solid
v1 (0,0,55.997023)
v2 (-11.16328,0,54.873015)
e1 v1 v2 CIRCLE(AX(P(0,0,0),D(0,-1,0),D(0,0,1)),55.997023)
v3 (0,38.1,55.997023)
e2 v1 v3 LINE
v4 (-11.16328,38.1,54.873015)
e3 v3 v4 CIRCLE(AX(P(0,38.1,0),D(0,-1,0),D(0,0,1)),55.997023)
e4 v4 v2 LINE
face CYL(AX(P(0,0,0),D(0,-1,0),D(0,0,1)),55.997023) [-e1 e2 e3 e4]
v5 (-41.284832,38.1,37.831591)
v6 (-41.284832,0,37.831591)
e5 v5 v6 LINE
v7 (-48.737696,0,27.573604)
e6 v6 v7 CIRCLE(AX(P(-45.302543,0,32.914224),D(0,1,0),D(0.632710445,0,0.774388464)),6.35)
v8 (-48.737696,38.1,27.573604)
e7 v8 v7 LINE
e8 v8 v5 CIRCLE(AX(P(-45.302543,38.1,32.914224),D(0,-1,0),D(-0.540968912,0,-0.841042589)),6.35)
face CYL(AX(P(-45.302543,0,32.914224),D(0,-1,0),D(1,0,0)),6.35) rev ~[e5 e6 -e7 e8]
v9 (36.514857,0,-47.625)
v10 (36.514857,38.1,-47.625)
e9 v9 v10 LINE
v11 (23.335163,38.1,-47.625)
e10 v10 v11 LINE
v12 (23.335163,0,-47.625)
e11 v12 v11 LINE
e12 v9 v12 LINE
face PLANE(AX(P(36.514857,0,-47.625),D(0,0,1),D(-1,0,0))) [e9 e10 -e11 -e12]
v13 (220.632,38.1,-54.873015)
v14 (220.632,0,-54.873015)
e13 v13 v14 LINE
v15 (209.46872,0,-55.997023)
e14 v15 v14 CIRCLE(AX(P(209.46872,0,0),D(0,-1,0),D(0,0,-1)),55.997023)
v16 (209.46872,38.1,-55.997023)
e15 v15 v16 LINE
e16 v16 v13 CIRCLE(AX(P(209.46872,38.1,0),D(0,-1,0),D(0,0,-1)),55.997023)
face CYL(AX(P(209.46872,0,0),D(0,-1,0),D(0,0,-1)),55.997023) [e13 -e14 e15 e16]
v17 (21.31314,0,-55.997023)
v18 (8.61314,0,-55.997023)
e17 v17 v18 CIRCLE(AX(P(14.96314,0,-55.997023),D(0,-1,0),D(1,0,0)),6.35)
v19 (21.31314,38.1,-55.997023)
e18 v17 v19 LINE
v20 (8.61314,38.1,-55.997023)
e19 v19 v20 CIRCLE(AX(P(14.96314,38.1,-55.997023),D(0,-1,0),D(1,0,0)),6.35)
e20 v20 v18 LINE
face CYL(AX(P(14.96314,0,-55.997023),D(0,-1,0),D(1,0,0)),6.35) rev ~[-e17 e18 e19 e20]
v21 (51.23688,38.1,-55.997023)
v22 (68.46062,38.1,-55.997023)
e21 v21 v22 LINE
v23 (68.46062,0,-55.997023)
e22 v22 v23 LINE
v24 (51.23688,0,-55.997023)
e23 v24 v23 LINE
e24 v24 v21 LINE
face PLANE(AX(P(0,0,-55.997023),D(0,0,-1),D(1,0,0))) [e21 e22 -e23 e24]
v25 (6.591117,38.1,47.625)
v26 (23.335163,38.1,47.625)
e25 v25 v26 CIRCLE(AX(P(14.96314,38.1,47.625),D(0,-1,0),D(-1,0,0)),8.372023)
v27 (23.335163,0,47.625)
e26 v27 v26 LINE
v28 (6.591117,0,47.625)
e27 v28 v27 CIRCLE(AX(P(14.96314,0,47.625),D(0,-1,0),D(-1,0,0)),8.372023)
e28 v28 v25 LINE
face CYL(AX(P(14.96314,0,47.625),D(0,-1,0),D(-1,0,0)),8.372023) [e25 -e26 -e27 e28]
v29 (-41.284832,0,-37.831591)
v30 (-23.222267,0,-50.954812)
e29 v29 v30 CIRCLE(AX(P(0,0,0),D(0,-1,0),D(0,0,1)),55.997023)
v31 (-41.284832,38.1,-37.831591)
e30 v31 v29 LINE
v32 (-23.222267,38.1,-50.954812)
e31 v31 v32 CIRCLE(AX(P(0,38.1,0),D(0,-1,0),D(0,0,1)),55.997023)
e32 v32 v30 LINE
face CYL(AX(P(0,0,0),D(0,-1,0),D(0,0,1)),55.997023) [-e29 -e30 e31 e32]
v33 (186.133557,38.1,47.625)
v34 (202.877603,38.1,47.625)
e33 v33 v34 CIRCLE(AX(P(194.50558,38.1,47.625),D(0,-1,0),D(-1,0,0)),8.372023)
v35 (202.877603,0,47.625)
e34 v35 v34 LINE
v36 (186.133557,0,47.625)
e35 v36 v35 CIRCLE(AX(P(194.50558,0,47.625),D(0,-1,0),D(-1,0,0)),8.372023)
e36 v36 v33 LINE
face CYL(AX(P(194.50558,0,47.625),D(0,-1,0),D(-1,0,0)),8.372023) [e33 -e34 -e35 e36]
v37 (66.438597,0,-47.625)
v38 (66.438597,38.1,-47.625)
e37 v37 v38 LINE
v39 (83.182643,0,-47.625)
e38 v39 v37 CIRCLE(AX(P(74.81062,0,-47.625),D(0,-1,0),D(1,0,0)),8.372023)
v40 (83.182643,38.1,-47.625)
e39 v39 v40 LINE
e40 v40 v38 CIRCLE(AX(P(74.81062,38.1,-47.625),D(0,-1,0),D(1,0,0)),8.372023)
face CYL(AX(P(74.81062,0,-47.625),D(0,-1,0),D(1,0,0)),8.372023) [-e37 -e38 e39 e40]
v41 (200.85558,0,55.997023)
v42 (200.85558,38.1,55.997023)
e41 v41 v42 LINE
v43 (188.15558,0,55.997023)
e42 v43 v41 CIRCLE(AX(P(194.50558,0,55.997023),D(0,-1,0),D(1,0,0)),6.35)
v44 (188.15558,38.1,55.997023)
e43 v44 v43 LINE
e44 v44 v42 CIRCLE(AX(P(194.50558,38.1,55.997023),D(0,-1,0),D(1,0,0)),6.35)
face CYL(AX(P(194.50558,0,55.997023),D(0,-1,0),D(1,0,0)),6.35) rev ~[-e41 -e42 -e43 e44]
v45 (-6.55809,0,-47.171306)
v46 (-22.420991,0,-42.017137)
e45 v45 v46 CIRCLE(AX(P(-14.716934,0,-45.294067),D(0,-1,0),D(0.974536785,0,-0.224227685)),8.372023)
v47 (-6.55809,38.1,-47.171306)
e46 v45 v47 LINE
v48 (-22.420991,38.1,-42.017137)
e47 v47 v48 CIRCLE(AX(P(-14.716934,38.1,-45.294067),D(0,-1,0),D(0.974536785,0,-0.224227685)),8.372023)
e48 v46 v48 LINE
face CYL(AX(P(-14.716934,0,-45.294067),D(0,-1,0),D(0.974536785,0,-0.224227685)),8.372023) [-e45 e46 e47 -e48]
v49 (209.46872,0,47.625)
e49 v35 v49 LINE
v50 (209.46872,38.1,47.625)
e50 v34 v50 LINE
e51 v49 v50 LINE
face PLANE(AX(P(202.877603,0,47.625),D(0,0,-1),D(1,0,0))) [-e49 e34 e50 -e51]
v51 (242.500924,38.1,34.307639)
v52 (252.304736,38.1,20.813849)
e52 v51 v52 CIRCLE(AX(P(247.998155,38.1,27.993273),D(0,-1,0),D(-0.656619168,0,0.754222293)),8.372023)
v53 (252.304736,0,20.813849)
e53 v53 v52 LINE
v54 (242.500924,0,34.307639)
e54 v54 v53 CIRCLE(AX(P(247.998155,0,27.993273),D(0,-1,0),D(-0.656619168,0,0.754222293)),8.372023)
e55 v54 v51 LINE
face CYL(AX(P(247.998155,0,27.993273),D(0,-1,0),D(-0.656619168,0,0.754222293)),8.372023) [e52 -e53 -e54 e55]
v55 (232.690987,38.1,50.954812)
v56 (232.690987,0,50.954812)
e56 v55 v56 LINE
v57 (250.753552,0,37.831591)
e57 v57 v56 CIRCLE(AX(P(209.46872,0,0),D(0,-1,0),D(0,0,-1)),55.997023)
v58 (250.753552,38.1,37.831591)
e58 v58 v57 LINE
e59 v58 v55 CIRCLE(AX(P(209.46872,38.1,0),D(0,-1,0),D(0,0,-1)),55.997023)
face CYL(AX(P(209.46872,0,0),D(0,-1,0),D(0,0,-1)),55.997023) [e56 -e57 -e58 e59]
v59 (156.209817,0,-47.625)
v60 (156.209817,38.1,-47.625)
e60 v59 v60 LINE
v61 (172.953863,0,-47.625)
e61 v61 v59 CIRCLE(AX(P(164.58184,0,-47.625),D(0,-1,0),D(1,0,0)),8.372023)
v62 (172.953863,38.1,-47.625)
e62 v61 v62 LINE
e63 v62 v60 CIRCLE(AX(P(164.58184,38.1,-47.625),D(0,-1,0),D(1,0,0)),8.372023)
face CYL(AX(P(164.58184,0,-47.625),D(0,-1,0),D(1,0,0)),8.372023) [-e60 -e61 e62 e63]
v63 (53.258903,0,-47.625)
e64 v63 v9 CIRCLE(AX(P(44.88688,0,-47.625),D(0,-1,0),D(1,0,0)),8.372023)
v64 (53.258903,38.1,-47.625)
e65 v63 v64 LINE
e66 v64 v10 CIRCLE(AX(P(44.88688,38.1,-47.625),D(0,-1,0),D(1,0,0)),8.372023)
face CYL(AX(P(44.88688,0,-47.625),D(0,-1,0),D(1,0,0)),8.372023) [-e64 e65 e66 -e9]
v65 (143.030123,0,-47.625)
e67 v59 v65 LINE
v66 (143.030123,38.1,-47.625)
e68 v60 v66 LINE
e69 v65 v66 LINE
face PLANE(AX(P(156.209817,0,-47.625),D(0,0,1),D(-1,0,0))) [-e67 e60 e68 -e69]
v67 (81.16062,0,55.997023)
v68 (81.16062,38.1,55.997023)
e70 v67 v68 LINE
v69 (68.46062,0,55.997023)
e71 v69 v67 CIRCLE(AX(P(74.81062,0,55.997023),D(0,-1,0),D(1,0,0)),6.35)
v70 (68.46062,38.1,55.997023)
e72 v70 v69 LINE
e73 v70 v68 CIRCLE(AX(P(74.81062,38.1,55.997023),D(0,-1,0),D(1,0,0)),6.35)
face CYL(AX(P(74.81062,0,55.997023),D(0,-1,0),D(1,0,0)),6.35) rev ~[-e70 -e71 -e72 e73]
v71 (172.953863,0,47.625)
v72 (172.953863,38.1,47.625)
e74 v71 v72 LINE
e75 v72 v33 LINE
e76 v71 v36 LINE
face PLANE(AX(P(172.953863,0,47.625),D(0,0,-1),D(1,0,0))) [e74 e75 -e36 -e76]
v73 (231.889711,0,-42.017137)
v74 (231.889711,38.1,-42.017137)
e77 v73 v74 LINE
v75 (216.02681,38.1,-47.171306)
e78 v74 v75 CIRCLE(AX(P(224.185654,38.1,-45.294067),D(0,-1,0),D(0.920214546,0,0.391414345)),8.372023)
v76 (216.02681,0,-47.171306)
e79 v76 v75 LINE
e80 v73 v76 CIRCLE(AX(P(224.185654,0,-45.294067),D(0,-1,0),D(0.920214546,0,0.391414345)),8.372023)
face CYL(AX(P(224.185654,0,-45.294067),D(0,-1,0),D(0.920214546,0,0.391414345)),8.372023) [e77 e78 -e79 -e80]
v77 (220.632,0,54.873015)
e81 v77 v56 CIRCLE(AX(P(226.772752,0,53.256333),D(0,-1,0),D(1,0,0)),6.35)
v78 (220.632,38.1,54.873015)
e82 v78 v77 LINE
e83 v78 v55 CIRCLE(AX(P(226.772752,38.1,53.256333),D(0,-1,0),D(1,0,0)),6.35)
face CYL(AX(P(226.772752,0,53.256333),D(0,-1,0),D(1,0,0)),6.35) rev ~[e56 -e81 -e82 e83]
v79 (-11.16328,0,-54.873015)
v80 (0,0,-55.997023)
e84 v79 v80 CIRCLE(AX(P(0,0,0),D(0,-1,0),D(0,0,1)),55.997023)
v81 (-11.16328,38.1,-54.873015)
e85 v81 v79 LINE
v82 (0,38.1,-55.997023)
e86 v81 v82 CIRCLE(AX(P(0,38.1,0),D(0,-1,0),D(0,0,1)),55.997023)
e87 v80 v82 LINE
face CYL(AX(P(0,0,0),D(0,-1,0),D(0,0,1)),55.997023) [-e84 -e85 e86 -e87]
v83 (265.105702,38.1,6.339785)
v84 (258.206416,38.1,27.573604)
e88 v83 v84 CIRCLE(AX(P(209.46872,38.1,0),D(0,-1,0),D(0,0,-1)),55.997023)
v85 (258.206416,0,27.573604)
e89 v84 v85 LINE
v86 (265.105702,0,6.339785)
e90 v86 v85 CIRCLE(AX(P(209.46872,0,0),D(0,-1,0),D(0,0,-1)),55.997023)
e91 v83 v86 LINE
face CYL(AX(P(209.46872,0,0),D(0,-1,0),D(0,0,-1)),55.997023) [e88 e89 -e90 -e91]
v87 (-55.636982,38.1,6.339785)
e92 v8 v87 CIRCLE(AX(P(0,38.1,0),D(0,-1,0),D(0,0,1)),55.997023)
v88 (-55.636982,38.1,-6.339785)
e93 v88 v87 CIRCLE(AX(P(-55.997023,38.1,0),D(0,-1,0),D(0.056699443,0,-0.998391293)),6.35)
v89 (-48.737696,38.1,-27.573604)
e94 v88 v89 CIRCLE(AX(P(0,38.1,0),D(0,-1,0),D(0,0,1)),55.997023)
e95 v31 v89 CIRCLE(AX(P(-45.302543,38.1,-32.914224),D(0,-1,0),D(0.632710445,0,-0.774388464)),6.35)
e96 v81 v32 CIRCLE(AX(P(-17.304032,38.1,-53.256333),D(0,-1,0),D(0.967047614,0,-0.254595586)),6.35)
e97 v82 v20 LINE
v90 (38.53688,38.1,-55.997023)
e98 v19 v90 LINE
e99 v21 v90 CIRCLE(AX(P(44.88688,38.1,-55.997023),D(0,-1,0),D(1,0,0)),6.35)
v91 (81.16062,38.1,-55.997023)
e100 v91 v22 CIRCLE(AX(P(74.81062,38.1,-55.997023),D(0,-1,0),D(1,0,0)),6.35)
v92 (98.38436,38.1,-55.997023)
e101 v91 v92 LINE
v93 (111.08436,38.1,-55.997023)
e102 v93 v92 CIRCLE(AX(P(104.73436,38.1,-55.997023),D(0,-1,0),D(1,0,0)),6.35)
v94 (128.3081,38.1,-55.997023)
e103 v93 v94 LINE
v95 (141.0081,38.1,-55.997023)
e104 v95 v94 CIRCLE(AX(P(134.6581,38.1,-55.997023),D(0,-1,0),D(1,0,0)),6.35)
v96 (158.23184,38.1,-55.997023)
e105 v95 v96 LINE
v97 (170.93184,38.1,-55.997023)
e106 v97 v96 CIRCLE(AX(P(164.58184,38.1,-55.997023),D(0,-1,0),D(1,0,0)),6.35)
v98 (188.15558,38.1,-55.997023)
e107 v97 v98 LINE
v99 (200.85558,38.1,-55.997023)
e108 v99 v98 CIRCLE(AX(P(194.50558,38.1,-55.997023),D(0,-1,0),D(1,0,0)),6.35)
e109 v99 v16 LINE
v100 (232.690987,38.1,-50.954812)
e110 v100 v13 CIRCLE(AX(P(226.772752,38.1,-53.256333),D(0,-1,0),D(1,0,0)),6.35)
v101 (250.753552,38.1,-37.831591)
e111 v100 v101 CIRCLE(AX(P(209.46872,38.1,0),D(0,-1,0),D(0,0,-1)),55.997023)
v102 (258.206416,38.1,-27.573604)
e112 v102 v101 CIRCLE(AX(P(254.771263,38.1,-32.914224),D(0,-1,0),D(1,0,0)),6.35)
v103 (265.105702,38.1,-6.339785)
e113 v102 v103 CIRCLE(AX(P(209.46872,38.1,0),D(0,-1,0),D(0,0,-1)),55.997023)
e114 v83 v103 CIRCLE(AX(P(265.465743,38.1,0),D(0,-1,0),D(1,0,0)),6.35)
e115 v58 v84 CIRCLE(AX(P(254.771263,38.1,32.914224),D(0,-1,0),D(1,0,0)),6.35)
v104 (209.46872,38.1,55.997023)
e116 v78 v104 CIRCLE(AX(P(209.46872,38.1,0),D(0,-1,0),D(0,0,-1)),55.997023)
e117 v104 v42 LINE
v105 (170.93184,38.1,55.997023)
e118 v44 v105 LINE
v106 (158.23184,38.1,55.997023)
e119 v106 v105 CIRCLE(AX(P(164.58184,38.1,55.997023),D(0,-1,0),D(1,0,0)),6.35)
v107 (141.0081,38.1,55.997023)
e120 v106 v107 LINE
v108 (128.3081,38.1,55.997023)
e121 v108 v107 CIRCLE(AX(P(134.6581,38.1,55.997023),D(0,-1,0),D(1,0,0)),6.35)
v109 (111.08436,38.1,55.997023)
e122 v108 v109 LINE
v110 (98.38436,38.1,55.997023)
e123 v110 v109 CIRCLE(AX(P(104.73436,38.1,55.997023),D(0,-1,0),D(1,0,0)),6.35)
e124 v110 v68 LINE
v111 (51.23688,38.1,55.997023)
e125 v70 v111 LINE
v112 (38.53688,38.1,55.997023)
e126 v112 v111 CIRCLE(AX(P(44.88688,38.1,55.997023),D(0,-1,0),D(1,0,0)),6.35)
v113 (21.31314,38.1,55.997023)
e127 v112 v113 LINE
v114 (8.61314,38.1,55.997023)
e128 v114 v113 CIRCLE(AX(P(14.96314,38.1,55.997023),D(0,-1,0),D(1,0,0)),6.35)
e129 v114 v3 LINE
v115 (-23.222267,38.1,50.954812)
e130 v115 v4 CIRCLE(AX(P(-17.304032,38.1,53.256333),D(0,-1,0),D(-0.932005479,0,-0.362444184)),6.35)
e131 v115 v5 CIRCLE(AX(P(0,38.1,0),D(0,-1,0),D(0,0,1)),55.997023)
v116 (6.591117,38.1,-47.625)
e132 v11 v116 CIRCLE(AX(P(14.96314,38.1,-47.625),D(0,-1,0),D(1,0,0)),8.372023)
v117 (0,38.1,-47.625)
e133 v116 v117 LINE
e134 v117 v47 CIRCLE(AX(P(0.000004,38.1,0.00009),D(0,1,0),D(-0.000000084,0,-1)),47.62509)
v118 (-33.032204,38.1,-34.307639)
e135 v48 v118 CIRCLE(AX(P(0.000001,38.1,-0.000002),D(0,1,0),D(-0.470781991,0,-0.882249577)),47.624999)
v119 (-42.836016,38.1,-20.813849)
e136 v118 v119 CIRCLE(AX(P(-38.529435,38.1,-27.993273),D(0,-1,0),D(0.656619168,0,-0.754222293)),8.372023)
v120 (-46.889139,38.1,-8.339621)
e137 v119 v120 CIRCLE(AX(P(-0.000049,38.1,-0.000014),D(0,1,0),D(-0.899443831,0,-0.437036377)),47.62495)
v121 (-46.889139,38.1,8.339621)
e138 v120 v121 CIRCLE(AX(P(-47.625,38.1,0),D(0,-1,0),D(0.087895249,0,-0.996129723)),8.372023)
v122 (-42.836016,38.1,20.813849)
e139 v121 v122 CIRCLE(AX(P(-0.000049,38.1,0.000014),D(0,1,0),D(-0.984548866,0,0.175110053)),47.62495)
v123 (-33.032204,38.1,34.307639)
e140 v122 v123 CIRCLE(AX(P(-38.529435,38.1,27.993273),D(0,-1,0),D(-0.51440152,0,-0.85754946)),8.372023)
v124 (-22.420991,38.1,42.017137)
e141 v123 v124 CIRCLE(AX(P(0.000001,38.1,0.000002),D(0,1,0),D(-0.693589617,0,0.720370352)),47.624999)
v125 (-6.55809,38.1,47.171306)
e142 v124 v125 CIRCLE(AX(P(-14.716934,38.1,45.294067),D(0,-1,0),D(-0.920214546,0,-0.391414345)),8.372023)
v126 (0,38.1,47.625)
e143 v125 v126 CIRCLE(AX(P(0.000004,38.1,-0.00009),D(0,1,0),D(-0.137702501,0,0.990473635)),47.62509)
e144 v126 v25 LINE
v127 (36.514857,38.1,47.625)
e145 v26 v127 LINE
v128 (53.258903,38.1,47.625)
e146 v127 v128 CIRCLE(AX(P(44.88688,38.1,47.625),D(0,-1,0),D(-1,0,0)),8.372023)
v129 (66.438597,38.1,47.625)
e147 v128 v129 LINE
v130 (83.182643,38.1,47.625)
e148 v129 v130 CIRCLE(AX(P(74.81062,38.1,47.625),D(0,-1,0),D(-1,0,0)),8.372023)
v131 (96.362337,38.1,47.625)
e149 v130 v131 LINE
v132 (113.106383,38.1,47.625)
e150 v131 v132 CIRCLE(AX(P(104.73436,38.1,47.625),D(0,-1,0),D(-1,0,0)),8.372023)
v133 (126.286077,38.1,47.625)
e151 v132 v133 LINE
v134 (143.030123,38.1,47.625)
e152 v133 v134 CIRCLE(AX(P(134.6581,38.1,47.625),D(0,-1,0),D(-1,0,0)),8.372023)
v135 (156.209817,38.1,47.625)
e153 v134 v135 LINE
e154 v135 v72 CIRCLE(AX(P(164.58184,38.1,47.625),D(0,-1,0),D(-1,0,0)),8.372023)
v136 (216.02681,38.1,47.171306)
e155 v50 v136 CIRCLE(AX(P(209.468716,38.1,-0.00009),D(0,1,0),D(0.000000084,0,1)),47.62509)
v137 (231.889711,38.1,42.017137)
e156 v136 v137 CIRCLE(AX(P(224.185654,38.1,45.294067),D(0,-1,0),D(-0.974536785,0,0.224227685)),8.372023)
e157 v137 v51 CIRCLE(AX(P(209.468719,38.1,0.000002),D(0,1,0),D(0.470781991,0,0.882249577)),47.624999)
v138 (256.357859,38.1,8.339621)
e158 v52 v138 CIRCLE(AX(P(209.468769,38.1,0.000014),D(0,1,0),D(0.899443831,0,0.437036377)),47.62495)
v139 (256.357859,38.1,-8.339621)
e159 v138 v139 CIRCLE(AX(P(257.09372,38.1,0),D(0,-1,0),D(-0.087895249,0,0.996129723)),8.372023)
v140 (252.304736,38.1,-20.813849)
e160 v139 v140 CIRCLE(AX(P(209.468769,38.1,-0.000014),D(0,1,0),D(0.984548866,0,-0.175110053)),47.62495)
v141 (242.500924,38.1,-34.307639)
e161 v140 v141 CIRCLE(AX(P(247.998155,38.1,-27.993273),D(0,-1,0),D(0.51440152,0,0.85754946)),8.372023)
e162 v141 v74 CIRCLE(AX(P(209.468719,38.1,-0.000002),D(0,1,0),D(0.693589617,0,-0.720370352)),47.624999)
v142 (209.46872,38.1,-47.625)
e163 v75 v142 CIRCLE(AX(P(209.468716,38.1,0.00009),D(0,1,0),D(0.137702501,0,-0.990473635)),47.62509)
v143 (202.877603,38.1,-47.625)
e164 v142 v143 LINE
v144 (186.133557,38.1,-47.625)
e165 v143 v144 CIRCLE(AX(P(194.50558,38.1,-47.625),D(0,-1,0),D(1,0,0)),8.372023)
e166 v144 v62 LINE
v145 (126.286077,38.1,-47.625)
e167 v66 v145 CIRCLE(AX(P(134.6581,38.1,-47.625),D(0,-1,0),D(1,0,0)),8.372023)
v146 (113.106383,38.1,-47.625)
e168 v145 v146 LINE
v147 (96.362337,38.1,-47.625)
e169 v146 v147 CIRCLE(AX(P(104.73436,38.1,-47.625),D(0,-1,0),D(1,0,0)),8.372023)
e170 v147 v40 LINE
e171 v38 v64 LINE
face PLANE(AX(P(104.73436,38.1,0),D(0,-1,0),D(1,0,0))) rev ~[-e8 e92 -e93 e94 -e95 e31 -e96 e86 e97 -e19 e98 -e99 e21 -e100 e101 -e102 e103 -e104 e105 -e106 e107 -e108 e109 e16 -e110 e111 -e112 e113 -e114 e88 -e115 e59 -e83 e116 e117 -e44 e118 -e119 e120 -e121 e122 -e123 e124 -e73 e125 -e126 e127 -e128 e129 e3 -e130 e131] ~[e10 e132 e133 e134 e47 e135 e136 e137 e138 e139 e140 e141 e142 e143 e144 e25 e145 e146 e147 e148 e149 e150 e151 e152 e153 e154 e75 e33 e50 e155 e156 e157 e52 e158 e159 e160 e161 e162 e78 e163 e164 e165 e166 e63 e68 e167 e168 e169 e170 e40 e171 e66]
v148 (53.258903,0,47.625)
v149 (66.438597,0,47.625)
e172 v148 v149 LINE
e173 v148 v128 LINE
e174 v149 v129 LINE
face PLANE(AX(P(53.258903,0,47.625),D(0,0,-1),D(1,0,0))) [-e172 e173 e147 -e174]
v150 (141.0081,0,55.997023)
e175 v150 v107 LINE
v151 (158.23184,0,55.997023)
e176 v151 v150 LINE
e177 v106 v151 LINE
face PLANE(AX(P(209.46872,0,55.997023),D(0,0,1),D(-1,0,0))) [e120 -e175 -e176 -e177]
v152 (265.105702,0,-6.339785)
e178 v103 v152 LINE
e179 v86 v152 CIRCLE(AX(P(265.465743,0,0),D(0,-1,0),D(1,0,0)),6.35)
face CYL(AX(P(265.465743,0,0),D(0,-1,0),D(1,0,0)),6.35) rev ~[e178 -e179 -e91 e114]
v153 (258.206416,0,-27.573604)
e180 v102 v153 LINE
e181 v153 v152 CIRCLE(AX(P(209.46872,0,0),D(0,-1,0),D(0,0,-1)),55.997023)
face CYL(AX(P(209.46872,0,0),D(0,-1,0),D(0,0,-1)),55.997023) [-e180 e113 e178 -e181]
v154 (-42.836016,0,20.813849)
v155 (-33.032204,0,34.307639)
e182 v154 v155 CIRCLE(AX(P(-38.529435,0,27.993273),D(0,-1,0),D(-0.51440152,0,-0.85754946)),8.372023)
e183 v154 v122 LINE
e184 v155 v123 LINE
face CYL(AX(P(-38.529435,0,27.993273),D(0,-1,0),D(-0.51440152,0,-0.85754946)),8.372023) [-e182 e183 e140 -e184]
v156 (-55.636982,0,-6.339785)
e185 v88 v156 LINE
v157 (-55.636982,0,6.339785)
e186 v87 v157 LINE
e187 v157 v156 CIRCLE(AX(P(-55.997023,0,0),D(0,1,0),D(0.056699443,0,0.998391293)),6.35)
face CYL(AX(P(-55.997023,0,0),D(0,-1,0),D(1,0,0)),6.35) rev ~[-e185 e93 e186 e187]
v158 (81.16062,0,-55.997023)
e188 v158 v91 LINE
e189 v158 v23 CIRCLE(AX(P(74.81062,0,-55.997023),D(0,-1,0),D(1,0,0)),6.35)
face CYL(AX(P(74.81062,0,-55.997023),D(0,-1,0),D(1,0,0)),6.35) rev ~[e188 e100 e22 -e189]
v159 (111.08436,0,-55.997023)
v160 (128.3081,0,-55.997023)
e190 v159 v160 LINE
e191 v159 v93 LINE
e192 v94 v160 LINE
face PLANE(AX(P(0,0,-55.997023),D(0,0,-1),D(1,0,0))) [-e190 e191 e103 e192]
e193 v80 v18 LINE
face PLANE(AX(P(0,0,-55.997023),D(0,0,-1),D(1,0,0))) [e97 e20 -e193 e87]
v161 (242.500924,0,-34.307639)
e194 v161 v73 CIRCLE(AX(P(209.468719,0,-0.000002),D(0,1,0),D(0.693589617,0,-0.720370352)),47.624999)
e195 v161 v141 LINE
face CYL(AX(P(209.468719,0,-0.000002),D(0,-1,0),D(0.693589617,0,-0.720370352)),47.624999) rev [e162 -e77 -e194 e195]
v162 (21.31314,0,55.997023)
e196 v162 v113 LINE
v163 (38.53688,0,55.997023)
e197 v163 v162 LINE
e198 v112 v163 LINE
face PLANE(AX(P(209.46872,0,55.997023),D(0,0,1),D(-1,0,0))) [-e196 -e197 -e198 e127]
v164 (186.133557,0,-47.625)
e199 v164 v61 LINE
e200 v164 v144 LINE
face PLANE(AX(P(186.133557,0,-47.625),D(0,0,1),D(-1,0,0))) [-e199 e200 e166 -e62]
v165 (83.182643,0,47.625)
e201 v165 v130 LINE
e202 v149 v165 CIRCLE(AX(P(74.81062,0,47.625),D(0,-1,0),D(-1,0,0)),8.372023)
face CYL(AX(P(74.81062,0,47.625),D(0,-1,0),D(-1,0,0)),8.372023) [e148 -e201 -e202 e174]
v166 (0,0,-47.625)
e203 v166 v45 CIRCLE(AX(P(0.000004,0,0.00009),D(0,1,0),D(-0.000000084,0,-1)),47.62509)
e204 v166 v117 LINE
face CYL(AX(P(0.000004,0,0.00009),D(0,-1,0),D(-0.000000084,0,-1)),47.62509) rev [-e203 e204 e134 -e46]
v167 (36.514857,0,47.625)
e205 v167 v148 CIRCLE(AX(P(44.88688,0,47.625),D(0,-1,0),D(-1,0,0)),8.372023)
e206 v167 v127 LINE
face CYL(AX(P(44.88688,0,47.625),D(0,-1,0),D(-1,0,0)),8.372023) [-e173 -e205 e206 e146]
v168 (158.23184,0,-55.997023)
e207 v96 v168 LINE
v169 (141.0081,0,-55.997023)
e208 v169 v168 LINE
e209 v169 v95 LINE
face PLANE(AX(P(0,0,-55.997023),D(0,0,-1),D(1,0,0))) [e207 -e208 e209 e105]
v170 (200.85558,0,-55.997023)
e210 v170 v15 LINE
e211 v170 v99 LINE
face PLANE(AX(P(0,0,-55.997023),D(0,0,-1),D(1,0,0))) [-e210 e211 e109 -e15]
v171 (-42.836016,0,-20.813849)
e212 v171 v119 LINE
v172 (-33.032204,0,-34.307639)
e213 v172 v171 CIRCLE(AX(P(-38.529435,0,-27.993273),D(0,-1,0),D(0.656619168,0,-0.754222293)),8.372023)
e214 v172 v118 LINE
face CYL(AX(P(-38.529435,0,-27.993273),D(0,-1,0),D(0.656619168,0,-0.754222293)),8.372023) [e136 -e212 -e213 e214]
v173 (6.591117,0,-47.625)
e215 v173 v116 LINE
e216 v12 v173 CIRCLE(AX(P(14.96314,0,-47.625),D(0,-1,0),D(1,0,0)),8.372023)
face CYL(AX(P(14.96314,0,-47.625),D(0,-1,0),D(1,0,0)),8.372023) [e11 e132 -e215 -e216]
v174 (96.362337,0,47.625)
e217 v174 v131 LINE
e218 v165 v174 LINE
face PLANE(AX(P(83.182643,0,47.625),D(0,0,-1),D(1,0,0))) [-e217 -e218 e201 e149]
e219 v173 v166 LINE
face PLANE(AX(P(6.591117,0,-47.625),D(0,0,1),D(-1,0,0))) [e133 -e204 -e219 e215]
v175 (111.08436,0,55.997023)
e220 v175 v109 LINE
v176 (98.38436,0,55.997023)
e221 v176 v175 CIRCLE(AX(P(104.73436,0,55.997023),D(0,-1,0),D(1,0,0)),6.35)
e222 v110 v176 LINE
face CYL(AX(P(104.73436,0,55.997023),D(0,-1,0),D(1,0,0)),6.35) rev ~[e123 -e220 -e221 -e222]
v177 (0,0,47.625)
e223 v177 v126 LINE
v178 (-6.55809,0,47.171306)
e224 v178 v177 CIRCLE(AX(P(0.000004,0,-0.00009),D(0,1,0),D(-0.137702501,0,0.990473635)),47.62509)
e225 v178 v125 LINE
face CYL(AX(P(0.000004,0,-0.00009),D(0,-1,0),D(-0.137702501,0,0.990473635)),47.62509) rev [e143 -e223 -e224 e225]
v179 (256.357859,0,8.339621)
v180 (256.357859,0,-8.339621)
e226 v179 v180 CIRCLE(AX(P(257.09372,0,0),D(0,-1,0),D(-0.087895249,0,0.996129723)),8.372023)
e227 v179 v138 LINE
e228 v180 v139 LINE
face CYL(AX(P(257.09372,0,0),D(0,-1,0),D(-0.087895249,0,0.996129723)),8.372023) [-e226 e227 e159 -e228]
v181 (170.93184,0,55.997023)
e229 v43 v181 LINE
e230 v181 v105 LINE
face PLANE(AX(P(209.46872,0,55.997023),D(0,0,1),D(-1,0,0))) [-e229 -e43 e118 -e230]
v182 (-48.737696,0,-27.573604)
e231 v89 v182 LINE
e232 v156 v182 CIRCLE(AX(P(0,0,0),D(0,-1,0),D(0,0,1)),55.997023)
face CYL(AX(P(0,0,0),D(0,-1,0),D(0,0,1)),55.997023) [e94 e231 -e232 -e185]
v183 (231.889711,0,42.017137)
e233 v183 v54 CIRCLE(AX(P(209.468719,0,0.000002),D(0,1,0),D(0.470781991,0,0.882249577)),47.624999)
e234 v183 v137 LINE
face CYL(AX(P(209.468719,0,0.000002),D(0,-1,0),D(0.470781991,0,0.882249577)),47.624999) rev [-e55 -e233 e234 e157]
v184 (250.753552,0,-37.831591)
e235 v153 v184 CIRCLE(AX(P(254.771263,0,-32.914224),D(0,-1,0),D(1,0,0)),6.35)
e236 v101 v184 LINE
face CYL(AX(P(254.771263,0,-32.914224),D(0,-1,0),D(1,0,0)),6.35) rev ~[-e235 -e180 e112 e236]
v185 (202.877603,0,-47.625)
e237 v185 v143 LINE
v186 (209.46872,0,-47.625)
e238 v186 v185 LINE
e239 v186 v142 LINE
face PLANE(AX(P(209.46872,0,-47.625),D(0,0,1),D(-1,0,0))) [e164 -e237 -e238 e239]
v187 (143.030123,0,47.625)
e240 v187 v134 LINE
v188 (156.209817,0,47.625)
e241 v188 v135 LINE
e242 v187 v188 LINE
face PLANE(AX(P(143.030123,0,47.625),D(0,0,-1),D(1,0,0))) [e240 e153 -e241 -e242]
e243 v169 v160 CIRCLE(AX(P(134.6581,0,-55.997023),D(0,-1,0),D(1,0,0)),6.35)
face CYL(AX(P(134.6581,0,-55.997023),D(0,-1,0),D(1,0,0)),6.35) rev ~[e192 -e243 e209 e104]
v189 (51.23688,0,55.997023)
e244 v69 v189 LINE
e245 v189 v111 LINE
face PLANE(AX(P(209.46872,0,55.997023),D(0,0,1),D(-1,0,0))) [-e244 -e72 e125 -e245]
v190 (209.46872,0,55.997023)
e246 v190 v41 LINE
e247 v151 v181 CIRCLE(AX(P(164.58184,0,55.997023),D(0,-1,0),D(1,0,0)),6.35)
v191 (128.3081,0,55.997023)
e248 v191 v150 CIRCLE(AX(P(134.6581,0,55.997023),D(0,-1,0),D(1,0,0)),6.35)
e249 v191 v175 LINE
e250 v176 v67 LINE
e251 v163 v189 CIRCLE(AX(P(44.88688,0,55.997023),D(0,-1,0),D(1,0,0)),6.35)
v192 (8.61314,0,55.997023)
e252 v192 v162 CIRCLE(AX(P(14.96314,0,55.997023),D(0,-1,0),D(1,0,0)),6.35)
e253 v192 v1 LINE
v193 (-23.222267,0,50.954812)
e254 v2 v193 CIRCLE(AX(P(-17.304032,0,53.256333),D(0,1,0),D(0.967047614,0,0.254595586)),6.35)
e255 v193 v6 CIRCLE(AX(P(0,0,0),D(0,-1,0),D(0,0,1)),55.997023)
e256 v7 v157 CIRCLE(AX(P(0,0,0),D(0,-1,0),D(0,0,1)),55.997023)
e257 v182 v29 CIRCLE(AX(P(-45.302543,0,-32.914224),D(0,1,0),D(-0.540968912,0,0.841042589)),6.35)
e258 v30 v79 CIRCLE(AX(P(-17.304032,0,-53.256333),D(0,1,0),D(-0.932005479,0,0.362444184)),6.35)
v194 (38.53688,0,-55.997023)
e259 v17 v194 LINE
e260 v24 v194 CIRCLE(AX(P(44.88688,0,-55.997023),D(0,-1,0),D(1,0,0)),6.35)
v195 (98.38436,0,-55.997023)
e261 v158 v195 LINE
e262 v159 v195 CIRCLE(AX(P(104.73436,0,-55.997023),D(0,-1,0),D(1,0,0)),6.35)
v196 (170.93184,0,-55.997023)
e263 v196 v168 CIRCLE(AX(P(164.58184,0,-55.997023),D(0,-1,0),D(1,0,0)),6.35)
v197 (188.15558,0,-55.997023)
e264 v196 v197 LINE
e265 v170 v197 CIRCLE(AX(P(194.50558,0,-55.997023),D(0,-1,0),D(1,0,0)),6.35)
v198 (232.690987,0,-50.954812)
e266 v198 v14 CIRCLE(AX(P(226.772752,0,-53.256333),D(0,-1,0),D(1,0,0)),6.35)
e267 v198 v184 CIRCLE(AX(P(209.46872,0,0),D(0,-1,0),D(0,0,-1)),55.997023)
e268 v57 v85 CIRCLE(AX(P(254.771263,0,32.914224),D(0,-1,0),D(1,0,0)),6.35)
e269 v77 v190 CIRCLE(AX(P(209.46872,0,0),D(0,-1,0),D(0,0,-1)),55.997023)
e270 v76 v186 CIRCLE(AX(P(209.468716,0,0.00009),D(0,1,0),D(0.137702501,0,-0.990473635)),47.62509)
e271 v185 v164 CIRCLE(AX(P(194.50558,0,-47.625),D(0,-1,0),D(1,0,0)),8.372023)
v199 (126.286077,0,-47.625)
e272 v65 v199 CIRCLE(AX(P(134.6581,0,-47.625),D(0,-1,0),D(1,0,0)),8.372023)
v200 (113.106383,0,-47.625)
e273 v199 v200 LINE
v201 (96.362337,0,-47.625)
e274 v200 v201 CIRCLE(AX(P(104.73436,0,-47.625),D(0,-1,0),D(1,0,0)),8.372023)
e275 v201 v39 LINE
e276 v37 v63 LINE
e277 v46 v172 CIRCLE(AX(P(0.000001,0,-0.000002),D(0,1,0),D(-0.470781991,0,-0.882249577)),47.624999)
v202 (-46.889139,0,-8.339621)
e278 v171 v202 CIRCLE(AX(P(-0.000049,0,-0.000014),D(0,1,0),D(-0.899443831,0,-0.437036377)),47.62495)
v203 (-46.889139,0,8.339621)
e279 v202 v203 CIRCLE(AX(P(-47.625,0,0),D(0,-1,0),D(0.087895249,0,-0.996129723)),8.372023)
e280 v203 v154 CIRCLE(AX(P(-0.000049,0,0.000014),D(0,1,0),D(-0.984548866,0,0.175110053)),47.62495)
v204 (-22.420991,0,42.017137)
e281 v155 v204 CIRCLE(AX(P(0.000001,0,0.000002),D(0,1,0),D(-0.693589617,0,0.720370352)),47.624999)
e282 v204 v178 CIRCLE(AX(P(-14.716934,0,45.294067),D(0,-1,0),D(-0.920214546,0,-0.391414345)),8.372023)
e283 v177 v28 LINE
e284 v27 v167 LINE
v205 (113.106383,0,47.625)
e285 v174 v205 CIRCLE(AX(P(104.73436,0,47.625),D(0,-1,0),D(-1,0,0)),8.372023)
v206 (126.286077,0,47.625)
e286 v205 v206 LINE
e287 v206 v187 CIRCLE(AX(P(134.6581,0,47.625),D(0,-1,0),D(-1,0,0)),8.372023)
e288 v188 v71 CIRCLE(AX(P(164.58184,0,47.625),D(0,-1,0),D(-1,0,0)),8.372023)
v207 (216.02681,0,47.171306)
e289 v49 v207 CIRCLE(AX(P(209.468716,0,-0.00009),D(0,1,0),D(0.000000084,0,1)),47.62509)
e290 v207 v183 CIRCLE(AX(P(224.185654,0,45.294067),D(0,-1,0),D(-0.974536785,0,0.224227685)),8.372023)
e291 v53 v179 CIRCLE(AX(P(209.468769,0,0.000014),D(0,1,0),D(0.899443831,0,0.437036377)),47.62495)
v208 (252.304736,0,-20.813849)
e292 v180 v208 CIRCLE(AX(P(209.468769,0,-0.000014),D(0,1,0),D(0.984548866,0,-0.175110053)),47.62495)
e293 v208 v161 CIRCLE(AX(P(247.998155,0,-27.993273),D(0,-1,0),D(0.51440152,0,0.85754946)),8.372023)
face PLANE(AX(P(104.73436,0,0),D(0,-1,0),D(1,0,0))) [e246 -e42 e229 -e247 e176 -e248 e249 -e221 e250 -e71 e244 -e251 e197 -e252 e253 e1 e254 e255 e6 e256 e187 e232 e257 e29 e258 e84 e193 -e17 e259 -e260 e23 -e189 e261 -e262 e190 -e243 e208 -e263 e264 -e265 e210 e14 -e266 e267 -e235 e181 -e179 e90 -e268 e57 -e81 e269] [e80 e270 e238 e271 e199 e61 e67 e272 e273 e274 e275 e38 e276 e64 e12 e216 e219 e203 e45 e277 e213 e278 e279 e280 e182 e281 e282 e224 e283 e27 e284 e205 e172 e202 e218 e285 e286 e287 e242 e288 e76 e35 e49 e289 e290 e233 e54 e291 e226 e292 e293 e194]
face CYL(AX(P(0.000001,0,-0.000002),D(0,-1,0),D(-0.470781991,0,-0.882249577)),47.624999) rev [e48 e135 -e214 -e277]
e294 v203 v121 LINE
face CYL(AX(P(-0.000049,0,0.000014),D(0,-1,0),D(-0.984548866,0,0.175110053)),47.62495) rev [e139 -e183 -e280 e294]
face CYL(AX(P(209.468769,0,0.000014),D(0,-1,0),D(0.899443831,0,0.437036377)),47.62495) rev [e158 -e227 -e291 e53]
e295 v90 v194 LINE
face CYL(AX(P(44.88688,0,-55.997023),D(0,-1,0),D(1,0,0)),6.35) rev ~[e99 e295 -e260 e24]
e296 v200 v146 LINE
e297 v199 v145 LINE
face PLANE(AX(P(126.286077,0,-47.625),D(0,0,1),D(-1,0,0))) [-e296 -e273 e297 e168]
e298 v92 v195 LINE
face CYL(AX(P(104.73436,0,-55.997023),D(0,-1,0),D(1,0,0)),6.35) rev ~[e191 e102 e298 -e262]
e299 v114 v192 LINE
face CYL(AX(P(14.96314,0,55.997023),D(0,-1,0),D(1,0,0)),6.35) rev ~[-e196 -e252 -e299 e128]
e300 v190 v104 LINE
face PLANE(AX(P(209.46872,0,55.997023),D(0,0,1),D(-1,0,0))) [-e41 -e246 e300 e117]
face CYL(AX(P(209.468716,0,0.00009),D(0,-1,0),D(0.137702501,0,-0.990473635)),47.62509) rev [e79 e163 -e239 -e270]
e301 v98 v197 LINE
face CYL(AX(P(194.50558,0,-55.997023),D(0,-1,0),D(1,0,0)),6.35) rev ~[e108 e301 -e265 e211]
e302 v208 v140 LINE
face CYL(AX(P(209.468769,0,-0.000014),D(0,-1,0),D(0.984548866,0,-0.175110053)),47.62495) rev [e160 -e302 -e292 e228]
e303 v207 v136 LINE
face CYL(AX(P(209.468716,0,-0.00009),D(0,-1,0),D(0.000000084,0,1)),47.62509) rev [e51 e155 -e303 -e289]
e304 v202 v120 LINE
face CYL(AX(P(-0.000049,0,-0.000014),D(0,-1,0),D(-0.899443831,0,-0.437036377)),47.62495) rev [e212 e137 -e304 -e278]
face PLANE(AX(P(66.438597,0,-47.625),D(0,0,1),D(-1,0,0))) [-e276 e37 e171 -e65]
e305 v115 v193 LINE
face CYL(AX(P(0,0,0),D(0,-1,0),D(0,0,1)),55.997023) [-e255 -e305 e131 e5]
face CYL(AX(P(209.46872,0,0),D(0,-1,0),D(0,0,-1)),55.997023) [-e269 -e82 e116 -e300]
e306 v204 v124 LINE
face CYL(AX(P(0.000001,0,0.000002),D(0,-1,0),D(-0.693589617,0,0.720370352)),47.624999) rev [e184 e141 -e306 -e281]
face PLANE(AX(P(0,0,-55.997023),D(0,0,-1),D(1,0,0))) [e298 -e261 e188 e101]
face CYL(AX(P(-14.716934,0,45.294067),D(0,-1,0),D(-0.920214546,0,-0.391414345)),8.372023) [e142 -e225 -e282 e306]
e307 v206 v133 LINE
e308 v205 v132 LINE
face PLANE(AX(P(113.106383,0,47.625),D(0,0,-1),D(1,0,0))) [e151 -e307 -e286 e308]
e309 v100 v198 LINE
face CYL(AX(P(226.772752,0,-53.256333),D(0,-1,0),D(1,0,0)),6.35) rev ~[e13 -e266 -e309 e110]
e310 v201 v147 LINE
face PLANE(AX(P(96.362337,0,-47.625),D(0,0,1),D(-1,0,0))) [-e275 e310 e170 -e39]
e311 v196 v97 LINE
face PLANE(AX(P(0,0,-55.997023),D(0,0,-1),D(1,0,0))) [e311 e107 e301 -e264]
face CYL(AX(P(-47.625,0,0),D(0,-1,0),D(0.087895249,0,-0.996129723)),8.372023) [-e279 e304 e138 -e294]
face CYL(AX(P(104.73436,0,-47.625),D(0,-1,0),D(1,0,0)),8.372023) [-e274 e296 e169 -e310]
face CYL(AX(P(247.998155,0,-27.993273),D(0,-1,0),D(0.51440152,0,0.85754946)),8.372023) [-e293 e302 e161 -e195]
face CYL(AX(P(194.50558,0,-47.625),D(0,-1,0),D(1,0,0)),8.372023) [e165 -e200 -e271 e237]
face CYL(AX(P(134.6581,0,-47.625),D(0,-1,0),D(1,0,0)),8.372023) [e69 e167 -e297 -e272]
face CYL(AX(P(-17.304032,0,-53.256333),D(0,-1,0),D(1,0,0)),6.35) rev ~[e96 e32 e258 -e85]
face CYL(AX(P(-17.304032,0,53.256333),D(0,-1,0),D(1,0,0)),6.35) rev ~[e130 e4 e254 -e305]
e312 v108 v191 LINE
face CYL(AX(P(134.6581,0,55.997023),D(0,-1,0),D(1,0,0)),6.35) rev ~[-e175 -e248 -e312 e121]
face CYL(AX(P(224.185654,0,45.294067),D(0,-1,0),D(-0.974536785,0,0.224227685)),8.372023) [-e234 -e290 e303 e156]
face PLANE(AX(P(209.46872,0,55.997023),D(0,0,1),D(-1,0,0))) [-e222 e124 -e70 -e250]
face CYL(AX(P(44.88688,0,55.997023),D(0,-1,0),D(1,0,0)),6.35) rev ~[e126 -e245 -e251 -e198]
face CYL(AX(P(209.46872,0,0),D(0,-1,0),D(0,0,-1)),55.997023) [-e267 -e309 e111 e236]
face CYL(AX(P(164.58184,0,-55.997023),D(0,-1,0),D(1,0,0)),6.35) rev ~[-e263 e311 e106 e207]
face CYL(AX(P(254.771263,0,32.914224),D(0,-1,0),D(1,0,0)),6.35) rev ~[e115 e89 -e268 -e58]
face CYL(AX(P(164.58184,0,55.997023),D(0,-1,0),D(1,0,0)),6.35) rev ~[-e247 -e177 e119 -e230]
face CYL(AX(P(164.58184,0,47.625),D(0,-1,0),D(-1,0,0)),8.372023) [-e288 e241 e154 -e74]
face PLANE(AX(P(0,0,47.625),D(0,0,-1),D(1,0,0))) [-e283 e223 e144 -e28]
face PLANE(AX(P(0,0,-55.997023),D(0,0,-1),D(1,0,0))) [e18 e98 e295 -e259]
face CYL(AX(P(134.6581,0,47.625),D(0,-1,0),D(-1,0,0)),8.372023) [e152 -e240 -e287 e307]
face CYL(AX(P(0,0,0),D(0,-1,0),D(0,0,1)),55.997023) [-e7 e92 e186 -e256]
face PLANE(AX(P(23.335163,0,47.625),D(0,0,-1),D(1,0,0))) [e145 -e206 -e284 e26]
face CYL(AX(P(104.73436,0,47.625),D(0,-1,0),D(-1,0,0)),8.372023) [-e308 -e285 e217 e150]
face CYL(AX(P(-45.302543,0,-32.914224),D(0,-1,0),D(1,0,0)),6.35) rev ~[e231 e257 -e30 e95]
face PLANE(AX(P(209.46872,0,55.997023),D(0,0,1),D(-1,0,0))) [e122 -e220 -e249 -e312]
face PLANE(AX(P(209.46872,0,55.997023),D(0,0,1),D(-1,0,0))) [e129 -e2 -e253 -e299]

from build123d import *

# Parameters (mm, degrees)
F3_DEPTH = 38.1
F4_R     = 6.35
F5_DEPTH = 38.101


with BuildPart() as f3:
    # F2 (on Front) → F3 (new body)
    with BuildSketch(Plane.XZ):
        with BuildLine():
            Line((209.46872, 55.997023), (0, 55.997023))
            ThreePointArc((0, 55.997023), (-55.997023, 0), (0, -55.997023))
            Line((0, -55.997023), (209.46872, -55.997023))
            ThreePointArc((209.46872, -55.997023), (265.465743, 0), (209.46872, 55.997023))
        make_face()
        with BuildLine():
            ThreePointArc((-6.55809, 47.171306), (-3.286882, 47.511441), (0, 47.625))
            Line((0, 47.625), (6.591117, 47.625))
            ThreePointArc((6.591117, 47.625), (14.96314, 39.252977), (23.335163, 47.625))
            Line((23.335163, 47.625), (36.514857, 47.625))
            ThreePointArc((36.514857, 47.625), (44.88688, 39.252977), (53.258903, 47.625))
            Line((53.258903, 47.625), (66.438597, 47.625))
            ThreePointArc((66.438597, 47.625), (74.81062, 39.252977), (83.182643, 47.625))
            Line((83.182643, 47.625), (96.362337, 47.625))
            ThreePointArc((96.362337, 47.625), (104.73436, 39.252977), (113.106383, 47.625))
            Line((113.106383, 47.625), (126.286077, 47.625))
            ThreePointArc((126.286077, 47.625), (134.6581, 39.252977), (143.030123, 47.625))
            Line((143.030123, 47.625), (156.209817, 47.625))
            ThreePointArc((156.209817, 47.625), (164.58184, 39.252977), (172.953863, 47.625))
            Line((172.953863, 47.625), (186.133557, 47.625))
            ThreePointArc((186.133557, 47.625), (194.50558, 39.252977), (202.877603, 47.625))
            Line((202.877603, 47.625), (209.46872, 47.625))
            ThreePointArc((209.46872, 47.625), (212.755602, 47.511441), (216.02681, 47.171306))
            ThreePointArc((216.02681, 47.171306), (221.598557, 37.3318), (231.889711, 42.017137))
            ThreePointArc((231.889711, 42.017137), (237.461993, 38.529434), (242.500924, 34.307639))
            ThreePointArc((242.500924, 34.307639), (241.225046, 23.072321), (252.304736, 20.813849))
            ThreePointArc((252.304736, 20.813849), (254.762787, 14.716934), (256.357859, 8.339621))
            ThreePointArc((256.357859, 8.339621), (248.721697, 0), (256.357859, -8.339621))
            ThreePointArc((256.357859, -8.339621), (254.762787, -14.716934), (252.304736, -20.813849))
            ThreePointArc((252.304736, -20.813849), (241.225046, -23.072321), (242.500924, -34.307639))
            ThreePointArc((242.500924, -34.307639), (237.461993, -38.529434), (231.889711, -42.017137))
            ThreePointArc((231.889711, -42.017137), (221.598557, -37.3318), (216.02681, -47.171306))
            ThreePointArc((216.02681, -47.171306), (212.755602, -47.511441), (209.46872, -47.625))
            Line((209.46872, -47.625), (202.877603, -47.625))
            ThreePointArc((202.877603, -47.625), (194.50558, -39.252977), (186.133557, -47.625))
            Line((186.133557, -47.625), (172.953863, -47.625))
            ThreePointArc((172.953863, -47.625), (164.58184, -39.252977), (156.209817, -47.625))
            Line((156.209817, -47.625), (143.030123, -47.625))
            ThreePointArc((143.030123, -47.625), (134.6581, -39.252977), (126.286077, -47.625))
            Line((126.286077, -47.625), (113.106383, -47.625))
            ThreePointArc((113.106383, -47.625), (104.73436, -39.252977), (96.362337, -47.625))
            Line((96.362337, -47.625), (83.182643, -47.625))
            ThreePointArc((83.182643, -47.625), (74.81062, -39.252977), (66.438597, -47.625))
            Line((66.438597, -47.625), (53.258903, -47.625))
            ThreePointArc((53.258903, -47.625), (44.88688, -39.252977), (36.514857, -47.625))
            Line((36.514857, -47.625), (23.335163, -47.625))
            ThreePointArc((23.335163, -47.625), (14.96314, -39.252977), (6.591117, -47.625))
            Line((6.591117, -47.625), (0, -47.625))
            ThreePointArc((0, -47.625), (-3.286882, -47.511441), (-6.55809, -47.171306))
            ThreePointArc((-6.55809, -47.171306), (-12.129837, -37.3318), (-22.420991, -42.017137))
            ThreePointArc((-22.420991, -42.017137), (-27.993273, -38.529434), (-33.032204, -34.307639))
            ThreePointArc((-33.032204, -34.307639), (-31.756326, -23.072321), (-42.836016, -20.813849))
            ThreePointArc((-42.836016, -20.813849), (-45.294067, -14.716934), (-46.889139, -8.339621))
            ThreePointArc((-46.889139, -8.339621), (-39.252977, 0), (-46.889139, 8.339621))
            ThreePointArc((-46.889139, 8.339621), (-45.294067, 14.716934), (-42.836016, 20.813849))
            ThreePointArc((-42.836016, 20.813849), (-31.756326, 23.072321), (-33.032204, 34.307639))
            ThreePointArc((-33.032204, 34.307639), (-27.993273, 38.529434), (-22.420991, 42.017137))
            ThreePointArc((-22.420991, 42.017137), (-12.129837, 37.3318), (-6.55809, 47.171306))
        make_face(mode=Mode.SUBTRACT)
    extrude(amount=-F3_DEPTH)

    # F4 (on face) → F5 (cut, through all)
    with BuildSketch(Plane.XZ):
        with Locations((-17.304032, 53.256333)):
            Circle(F4_R)
        with Locations((14.96314, 55.997023)):
            Circle(F4_R)
        with Locations((44.88688, 55.997023)):
            Circle(F4_R)
        with Locations((74.81062, 55.997023)):
            Circle(F4_R)
        with Locations((104.73436, 55.997023)):
            Circle(F4_R)
        with Locations((-45.302543, 32.914224)):
            Circle(F4_R)
        with Locations((-55.997023, 0)):
            Circle(F4_R)
        with Locations((265.465743, 0)):
            Circle(F4_R)
        with Locations((254.771263, 32.914224)):
            Circle(F4_R)
        with Locations((226.772752, 53.256333)):
            Circle(F4_R)
        with Locations((194.50558, 55.997023)):
            Circle(F4_R)
        with Locations((164.58184, 55.997023)):
            Circle(F4_R)
        with Locations((134.6581, 55.997023)):
            Circle(F4_R)
        with Locations((-45.302543, -32.914224)):
            Circle(F4_R)
        with Locations((-17.304032, -53.256333)):
            Circle(F4_R)
        with Locations((14.96314, -55.997023)):
            Circle(F4_R)
        with Locations((44.88688, -55.997023)):
            Circle(F4_R)
        with Locations((74.81062, -55.997023)):
            Circle(F4_R)
        with Locations((104.73436, -55.997023)):
            Circle(F4_R)
        with Locations((134.6581, -55.997023)):
            Circle(F4_R)
        with Locations((164.58184, -55.997023)):
            Circle(F4_R)
        with Locations((194.50558, -55.997023)):
            Circle(F4_R)
        with Locations((226.772752, -53.256333)):
            Circle(F4_R)
        with Locations((254.771263, -32.914224)):
            Circle(F4_R)
    extrude(amount=-F5_DEPTH, mode=Mode.SUBTRACT)


solid = f3.part
